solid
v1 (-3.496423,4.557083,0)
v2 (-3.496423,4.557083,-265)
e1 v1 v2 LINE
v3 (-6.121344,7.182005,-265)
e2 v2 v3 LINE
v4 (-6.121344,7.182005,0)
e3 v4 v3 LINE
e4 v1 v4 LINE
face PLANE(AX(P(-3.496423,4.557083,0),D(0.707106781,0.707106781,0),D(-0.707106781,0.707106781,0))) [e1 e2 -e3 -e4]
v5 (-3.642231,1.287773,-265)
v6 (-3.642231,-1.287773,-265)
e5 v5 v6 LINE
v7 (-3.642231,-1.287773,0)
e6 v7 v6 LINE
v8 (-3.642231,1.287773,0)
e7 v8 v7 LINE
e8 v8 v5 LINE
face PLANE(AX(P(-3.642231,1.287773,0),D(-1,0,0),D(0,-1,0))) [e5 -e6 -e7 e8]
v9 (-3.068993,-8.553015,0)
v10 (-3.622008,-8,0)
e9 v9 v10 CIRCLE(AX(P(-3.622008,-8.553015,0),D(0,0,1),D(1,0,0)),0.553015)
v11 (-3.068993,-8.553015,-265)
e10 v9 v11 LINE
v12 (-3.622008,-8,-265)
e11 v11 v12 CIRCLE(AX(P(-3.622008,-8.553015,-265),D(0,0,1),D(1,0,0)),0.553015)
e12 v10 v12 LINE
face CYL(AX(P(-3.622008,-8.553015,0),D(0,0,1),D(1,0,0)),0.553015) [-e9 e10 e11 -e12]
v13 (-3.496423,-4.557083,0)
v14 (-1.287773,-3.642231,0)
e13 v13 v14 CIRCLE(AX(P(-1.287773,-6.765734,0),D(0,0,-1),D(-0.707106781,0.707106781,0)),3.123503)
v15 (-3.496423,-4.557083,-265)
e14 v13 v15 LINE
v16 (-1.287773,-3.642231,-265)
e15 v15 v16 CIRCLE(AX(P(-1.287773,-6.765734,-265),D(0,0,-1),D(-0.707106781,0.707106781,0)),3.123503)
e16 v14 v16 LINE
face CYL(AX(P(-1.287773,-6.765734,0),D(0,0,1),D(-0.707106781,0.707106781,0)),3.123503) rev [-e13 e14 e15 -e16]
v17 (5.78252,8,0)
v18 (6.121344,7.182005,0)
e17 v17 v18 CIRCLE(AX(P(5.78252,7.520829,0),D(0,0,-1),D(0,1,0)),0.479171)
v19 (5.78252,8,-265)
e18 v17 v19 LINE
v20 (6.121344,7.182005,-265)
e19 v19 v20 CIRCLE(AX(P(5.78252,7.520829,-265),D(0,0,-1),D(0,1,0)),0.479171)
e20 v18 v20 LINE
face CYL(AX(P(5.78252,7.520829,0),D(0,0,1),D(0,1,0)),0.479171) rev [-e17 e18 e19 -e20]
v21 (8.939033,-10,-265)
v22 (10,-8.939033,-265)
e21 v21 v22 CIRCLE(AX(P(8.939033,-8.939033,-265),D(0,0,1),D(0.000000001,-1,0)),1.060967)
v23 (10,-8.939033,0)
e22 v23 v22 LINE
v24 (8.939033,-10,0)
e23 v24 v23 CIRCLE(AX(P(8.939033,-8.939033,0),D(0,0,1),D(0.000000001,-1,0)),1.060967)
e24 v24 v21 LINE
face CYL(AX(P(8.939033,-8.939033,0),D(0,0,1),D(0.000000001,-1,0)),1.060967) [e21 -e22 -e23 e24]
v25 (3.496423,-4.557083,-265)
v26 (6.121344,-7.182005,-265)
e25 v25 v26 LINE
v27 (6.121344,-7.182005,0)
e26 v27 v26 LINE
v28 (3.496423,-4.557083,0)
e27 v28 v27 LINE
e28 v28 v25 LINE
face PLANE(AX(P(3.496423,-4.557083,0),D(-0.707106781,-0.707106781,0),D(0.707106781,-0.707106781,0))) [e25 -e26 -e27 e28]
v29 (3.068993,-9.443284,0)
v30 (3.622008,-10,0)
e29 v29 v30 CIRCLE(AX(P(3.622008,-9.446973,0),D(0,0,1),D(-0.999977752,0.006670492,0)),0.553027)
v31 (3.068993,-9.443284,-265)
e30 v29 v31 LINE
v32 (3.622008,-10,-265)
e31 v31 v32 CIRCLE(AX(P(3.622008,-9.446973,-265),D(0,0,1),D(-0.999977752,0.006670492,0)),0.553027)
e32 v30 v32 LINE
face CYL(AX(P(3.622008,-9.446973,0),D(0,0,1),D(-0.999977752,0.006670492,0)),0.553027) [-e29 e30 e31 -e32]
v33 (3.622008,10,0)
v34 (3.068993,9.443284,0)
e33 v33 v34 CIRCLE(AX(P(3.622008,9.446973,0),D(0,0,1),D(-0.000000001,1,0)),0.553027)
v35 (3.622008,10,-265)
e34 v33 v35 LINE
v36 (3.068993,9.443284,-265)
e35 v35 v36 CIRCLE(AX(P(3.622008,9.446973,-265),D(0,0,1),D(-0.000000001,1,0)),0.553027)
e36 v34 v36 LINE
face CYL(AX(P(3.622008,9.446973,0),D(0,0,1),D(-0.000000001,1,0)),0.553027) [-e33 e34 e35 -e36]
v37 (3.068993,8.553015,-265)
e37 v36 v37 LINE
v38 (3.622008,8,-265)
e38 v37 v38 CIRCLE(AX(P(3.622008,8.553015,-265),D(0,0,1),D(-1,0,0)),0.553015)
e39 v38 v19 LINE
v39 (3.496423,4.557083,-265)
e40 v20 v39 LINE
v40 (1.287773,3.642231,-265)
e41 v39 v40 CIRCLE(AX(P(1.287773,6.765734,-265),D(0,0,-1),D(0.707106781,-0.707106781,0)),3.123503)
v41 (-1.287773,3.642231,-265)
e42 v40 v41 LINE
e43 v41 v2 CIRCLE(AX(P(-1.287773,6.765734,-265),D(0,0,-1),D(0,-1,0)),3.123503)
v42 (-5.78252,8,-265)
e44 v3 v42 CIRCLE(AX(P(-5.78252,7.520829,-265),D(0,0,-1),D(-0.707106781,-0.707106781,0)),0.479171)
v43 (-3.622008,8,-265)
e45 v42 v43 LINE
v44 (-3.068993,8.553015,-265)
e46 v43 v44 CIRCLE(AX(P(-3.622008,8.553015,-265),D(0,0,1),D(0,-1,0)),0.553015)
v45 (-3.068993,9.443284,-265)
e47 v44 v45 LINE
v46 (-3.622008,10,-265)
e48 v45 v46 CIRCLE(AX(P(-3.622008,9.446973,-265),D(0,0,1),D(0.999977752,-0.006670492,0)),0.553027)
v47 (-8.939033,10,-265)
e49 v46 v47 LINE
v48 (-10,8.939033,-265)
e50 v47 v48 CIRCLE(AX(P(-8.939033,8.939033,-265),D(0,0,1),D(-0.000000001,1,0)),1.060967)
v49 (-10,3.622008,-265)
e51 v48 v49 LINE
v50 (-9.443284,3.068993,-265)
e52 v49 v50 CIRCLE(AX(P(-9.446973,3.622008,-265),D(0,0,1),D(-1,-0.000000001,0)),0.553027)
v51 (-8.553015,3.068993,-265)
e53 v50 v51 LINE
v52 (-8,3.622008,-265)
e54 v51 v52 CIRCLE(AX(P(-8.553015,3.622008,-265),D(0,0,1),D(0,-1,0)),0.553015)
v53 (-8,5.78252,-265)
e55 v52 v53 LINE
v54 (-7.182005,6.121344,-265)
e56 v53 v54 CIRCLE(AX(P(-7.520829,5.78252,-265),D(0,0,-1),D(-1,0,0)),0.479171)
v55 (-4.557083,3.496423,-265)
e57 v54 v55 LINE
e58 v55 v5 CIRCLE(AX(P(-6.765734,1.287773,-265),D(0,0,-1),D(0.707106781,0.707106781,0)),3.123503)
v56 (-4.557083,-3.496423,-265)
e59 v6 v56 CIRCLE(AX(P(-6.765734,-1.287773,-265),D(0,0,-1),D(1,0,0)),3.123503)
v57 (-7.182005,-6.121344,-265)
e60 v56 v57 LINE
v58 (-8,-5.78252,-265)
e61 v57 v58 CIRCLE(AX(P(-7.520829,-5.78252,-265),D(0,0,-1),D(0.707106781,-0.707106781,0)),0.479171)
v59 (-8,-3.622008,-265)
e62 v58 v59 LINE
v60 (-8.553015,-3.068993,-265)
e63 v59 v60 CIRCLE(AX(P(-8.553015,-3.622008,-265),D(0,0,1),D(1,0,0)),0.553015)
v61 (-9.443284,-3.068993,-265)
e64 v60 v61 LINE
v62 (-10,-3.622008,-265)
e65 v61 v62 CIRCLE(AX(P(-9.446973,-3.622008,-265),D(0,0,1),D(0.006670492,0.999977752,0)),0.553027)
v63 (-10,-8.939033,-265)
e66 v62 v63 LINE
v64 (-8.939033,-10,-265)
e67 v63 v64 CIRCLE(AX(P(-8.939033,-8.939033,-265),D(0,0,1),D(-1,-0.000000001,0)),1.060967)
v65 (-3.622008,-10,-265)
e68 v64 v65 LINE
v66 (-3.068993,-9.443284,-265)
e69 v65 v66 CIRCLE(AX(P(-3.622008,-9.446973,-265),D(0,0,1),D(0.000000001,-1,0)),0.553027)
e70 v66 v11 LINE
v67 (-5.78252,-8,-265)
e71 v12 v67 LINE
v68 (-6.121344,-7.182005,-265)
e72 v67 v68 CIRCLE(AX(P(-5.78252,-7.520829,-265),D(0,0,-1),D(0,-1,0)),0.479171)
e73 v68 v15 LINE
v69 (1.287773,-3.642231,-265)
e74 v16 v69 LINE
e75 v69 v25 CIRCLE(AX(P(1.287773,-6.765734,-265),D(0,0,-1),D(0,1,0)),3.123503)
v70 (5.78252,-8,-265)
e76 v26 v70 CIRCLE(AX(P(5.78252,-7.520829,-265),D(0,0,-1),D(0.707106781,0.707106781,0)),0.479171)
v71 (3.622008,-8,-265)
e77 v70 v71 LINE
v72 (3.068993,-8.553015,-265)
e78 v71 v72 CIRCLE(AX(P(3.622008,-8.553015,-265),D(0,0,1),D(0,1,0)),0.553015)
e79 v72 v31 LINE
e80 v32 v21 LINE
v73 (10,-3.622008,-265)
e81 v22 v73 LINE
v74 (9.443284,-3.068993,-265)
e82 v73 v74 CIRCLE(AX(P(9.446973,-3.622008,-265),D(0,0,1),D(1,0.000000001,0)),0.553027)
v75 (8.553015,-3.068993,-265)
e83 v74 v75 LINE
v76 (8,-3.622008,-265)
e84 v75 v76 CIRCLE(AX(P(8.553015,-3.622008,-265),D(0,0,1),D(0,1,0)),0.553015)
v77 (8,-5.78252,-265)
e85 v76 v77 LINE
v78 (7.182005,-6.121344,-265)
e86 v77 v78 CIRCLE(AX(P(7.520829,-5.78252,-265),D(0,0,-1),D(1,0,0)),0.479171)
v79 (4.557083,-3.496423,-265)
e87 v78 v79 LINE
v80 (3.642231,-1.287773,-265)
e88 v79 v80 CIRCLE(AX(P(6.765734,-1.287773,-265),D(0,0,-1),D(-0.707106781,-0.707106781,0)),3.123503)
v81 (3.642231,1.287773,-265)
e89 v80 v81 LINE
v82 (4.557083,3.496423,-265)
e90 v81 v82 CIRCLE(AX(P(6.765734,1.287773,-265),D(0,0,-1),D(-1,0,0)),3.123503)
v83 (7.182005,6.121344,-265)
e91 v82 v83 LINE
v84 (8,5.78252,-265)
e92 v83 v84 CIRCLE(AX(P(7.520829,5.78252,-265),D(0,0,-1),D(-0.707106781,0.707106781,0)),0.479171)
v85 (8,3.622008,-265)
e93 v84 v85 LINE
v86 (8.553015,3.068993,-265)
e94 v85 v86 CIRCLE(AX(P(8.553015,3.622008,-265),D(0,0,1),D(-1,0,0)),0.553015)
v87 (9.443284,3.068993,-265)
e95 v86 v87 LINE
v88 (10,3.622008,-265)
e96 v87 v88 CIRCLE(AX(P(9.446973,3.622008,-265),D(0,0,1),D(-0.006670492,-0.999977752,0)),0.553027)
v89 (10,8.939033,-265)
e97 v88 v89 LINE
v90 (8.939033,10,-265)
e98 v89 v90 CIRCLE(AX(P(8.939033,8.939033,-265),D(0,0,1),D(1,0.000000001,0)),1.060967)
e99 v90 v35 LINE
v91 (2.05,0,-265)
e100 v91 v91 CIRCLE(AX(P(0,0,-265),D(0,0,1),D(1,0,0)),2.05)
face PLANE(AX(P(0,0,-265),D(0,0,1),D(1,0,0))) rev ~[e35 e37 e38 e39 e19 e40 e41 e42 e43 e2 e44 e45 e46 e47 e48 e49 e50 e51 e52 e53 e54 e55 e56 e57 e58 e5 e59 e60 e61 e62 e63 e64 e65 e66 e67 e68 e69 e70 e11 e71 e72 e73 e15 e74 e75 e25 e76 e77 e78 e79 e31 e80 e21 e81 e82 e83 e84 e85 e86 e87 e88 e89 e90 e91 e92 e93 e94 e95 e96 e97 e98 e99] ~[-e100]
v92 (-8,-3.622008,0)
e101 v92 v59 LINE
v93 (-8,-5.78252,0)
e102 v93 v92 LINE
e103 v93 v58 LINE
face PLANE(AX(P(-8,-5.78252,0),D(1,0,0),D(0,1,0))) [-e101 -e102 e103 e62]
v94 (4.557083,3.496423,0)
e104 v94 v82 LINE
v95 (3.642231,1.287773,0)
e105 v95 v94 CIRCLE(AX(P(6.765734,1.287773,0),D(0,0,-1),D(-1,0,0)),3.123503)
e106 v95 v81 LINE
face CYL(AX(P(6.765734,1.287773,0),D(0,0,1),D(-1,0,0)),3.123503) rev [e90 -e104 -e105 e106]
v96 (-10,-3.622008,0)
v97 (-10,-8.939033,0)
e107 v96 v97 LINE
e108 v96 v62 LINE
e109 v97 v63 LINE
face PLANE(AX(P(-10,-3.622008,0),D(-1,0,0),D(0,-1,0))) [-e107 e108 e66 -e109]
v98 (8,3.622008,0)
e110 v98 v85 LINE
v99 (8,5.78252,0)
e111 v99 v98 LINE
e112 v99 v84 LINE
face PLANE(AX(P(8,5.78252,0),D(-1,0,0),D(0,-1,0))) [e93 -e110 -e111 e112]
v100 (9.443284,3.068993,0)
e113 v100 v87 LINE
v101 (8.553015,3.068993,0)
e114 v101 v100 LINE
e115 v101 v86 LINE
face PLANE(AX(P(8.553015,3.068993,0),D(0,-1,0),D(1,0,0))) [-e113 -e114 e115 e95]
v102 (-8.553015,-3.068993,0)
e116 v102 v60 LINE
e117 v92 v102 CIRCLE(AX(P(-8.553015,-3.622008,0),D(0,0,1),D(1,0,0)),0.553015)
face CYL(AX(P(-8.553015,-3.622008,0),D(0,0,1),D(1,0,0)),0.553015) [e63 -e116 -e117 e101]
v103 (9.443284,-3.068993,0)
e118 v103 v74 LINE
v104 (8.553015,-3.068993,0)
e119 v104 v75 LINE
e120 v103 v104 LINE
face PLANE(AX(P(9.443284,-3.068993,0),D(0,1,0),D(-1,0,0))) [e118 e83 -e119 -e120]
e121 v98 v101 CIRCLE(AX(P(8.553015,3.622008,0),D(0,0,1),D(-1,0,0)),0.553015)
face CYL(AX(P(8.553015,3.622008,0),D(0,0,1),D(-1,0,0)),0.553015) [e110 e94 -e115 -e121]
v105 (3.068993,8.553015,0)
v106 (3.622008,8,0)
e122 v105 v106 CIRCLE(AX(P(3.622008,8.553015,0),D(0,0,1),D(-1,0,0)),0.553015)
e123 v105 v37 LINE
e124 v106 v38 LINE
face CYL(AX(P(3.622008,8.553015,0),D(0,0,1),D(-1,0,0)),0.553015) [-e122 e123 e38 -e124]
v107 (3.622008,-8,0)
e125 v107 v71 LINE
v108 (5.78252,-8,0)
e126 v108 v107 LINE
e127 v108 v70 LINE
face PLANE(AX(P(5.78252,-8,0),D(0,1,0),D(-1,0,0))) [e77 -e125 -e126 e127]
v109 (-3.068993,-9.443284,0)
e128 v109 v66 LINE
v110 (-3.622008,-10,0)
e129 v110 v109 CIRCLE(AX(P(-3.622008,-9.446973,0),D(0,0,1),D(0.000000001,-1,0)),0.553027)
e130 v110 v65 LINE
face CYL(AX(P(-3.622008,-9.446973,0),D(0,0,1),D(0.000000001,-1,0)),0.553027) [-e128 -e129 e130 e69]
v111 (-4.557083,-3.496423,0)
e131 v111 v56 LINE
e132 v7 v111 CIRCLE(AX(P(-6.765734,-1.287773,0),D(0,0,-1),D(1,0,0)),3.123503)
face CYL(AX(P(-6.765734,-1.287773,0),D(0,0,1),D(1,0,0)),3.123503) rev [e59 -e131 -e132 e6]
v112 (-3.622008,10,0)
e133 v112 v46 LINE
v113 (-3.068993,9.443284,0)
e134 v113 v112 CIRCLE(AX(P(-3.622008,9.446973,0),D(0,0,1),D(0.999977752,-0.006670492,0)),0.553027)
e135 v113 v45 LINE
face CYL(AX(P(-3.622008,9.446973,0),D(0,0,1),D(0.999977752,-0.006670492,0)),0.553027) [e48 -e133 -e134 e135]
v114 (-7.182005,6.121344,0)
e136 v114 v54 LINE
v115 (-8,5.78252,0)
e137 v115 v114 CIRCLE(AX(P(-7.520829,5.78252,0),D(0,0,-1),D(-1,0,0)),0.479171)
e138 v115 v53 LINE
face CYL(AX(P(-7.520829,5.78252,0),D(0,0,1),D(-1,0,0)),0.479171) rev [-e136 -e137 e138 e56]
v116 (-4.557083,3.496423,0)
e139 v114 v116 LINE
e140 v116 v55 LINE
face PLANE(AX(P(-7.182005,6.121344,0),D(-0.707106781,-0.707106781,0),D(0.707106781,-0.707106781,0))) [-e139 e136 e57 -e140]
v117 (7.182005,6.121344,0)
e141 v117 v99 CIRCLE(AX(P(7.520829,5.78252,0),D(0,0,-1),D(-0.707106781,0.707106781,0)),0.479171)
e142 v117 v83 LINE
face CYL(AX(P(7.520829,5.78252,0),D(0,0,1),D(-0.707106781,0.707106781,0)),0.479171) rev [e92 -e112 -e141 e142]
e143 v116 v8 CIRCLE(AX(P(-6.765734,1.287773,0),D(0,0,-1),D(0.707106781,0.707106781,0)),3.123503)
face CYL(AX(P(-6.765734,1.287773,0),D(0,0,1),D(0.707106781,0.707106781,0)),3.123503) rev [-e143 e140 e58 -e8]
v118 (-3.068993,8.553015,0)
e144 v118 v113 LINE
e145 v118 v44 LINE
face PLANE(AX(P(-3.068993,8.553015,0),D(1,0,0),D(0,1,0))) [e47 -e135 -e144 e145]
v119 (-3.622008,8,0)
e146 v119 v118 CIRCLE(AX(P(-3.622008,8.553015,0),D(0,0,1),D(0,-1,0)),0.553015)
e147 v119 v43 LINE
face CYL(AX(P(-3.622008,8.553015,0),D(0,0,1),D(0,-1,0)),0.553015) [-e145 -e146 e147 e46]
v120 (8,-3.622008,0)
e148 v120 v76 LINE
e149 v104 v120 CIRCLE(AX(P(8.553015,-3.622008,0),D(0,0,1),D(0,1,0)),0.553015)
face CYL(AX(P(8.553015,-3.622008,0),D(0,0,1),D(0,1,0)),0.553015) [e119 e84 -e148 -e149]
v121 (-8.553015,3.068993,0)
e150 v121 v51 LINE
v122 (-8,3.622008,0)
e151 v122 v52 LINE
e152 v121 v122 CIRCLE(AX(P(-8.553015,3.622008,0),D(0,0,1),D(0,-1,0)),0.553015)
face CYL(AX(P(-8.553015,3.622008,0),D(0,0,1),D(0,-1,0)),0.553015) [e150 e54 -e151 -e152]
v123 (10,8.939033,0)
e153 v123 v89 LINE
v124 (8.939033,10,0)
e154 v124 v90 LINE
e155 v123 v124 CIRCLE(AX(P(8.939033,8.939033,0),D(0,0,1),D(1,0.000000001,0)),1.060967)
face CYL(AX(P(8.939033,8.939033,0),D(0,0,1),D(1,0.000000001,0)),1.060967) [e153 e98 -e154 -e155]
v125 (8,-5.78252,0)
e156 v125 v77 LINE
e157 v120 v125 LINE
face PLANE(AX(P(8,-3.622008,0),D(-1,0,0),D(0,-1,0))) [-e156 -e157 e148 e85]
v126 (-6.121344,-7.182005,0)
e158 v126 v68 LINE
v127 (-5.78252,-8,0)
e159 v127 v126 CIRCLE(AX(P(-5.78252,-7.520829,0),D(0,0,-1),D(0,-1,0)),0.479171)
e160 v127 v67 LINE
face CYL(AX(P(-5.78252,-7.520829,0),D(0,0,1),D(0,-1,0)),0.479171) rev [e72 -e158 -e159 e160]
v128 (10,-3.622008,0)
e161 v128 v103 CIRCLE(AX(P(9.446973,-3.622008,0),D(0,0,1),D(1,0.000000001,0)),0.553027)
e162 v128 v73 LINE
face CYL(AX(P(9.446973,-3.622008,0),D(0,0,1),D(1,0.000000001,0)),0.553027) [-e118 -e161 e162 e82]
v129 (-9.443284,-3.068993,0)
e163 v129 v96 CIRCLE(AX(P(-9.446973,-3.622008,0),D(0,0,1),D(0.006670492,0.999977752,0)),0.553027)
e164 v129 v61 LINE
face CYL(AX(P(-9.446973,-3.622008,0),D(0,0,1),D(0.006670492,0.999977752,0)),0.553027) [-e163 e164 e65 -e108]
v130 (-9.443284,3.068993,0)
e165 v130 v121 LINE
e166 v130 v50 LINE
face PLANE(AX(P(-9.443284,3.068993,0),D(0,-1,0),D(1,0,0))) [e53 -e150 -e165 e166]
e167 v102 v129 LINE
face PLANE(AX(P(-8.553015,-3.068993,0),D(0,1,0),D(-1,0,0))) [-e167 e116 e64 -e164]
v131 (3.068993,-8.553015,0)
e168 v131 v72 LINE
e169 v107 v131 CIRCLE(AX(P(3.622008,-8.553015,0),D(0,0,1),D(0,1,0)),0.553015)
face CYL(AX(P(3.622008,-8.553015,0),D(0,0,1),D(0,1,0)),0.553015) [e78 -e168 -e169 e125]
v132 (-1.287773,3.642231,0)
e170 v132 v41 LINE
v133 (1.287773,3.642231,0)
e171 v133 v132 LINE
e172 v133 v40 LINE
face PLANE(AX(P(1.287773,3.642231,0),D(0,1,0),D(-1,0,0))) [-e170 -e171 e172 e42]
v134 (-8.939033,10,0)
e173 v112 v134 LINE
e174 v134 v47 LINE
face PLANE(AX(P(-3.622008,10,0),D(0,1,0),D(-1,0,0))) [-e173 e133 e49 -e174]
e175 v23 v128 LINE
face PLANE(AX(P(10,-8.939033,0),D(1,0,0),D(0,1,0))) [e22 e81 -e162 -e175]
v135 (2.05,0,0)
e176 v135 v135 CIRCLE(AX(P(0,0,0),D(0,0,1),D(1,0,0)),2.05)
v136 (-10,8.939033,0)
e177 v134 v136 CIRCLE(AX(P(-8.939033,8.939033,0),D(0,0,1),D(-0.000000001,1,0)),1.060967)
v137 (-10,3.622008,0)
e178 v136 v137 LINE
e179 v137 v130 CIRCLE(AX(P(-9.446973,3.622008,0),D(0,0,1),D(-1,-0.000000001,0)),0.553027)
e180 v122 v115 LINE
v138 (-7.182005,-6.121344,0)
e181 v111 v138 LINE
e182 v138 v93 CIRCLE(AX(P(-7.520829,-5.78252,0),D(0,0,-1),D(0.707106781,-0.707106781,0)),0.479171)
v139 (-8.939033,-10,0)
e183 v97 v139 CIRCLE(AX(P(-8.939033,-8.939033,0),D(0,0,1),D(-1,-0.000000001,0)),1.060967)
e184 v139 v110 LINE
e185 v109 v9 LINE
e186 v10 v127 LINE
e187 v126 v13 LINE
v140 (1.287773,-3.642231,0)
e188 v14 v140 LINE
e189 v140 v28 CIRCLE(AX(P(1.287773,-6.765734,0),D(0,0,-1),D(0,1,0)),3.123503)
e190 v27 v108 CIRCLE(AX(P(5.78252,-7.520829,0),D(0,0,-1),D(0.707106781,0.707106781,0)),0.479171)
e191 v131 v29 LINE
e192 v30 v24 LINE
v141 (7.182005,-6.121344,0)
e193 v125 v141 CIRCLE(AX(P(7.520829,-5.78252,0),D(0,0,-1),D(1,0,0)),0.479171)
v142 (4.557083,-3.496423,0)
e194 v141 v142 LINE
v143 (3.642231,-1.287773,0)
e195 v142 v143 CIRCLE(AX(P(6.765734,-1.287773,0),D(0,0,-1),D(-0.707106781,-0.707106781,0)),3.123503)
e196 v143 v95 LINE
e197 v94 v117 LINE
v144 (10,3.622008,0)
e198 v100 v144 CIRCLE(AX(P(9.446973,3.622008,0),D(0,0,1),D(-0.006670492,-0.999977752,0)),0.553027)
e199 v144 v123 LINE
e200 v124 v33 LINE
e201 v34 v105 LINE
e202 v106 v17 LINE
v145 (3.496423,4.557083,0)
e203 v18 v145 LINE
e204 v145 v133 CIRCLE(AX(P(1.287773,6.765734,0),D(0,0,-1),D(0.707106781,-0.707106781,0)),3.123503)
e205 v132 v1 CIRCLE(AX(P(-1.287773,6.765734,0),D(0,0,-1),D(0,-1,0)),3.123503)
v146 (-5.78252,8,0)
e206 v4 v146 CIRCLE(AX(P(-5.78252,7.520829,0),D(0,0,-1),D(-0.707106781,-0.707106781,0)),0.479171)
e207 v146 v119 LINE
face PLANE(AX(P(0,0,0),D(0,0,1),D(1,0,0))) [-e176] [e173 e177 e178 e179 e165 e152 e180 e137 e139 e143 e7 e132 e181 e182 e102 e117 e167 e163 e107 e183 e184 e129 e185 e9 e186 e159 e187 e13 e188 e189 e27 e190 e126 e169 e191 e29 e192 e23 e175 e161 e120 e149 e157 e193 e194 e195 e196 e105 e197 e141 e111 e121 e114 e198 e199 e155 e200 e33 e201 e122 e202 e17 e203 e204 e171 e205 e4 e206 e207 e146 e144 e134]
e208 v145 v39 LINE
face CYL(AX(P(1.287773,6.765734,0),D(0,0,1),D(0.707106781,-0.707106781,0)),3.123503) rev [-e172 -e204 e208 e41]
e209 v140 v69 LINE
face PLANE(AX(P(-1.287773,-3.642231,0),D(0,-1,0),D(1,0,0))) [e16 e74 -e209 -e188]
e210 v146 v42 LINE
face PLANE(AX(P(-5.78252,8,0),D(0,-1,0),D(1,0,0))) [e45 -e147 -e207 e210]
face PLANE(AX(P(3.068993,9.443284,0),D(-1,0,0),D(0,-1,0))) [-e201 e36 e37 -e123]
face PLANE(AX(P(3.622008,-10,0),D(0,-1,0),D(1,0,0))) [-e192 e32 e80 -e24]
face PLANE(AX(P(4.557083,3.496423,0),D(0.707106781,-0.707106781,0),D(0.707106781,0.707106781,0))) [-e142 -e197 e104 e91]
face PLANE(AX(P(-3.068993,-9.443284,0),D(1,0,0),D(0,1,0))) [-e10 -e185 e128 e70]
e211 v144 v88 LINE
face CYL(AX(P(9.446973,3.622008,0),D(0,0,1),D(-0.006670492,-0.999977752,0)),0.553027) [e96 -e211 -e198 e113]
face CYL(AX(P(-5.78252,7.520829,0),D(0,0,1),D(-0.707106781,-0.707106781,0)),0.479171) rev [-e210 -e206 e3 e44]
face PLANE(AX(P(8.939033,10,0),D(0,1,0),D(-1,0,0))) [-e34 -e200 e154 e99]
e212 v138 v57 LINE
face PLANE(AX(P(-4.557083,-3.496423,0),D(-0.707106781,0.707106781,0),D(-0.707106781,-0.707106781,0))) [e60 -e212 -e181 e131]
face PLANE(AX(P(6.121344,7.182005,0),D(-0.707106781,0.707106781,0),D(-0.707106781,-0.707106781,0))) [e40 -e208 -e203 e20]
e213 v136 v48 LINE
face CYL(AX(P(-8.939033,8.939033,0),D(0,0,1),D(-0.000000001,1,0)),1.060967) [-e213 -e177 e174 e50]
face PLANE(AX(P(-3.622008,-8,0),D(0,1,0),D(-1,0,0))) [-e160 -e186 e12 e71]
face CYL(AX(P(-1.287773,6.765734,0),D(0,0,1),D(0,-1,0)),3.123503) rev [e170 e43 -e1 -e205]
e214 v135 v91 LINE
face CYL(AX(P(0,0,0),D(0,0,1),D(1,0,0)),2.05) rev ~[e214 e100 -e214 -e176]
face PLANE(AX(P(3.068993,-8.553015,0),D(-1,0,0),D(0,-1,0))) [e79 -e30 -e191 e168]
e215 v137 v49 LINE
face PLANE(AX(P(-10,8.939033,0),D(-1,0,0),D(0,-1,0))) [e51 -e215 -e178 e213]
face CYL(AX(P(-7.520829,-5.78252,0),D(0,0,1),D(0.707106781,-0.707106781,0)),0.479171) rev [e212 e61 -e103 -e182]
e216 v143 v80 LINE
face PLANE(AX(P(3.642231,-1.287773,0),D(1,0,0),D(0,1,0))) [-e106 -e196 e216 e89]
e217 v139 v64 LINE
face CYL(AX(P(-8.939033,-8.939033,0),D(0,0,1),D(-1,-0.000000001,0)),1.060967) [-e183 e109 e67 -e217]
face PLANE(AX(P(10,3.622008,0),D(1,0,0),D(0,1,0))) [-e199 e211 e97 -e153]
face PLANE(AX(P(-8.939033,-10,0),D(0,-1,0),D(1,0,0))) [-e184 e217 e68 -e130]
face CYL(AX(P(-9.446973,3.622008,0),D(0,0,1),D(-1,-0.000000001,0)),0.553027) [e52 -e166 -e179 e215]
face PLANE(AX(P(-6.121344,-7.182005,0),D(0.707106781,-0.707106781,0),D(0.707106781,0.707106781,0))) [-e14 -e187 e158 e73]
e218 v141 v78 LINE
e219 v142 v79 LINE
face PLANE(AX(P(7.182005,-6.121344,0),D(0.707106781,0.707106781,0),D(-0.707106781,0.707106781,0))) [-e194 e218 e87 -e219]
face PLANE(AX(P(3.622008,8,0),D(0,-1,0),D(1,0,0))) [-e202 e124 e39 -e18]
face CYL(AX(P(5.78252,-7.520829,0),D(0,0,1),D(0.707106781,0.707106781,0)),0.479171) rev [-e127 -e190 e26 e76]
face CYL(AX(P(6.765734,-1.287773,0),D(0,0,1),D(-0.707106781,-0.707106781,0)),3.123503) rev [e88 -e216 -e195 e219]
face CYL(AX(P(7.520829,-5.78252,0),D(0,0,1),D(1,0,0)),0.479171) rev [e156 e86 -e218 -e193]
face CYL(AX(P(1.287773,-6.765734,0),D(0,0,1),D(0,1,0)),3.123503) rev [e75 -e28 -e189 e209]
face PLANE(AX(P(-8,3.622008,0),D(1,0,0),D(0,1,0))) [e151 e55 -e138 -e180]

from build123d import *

# Parameters (mm, degrees)
SKETCH1_R           = 2.05
BOSS_EXTRUDE1_DEPTH = 265


with BuildPart() as part:
    # Sketch1 → Boss-Extrude1 (new body)
    with BuildSketch(Plane.XY):
        with BuildLine():
            Line((-3.642230561, 1.287773026), (-3.642230561, -1.287773026))
            ThreePointArc((-3.642230561, -1.287773026), (-3.87999308, -2.483085929), (-4.55708345, -3.496423279))
            Line((-4.55708345, -3.496423279), (-7.182004606, -6.121344434))
            ThreePointArc((-7.182004606, -6.121344434), (-7.704200045, -6.225215565), (-8, -5.782519648))
            Line((-8, -5.782519648), (-8, -3.622007668))
            ThreePointArc((-8, -3.622007668), (-8.161974206, -3.230967343), (-8.553014531, -3.068993137))
            Line((-8.553014531, -3.068993137), (-9.443284204, -3.068993137))
            ThreePointArc((-9.443284204, -3.068993137), (-9.836715763, -3.229656566), (-10, -3.622007668))
            Line((-10, -3.622007668), (-10, -8.939033256))
            ThreePointArc((-10, -8.939033256), (-9.689250035, -9.689250035), (-8.939033256, -10))
            Line((-8.939033256, -10), (-3.622007668, -10))
            ThreePointArc((-3.622007668, -10), (-3.229656566, -9.836715763), (-3.068993137, -9.443284204))
            Line((-3.068993137, -9.443284204), (-3.068993137, -8.553014531))
            ThreePointArc((-3.068993137, -8.553014531), (-3.230967343, -8.161974206), (-3.622007668, -8))
            Line((-3.622007668, -8), (-5.782519648, -8))
            ThreePointArc((-5.782519648, -8), (-6.225215565, -7.704200045), (-6.121344434, -7.182004606))
            Line((-6.121344434, -7.182004606), (-3.496423279, -4.55708345))
            ThreePointArc((-3.496423279, -4.55708345), (-2.483085929, -3.87999308), (-1.287773026, -3.642230561))
            Line((-1.287773026, -3.642230561), (1.287773026, -3.642230561))
            ThreePointArc((1.287773026, -3.642230561), (2.483085929, -3.87999308), (3.496423279, -4.55708345))
            Line((3.496423279, -4.55708345), (6.121344434, -7.182004606))
            ThreePointArc((6.121344434, -7.182004606), (6.225215565, -7.704200045), (5.782519648, -8))
            Line((5.782519648, -8), (3.622007668, -8))
            ThreePointArc((3.622007668, -8), (3.230967343, -8.161974206), (3.068993137, -8.553014531))
            Line((3.068993137, -8.553014531), (3.068993137, -9.443284204))
            ThreePointArc((3.068993137, -9.443284204), (3.229656566, -9.836715763), (3.622007668, -10))
            Line((3.622007668, -10), (8.939033256, -10))
            ThreePointArc((8.939033256, -10), (9.689250035, -9.689250035), (10, -8.939033256))
            Line((10, -8.939033256), (10, -3.622007668))
            ThreePointArc((10, -3.622007668), (9.836715763, -3.229656566), (9.443284204, -3.068993137))
            Line((9.443284204, -3.068993137), (8.553014531, -3.068993137))
            ThreePointArc((8.553014531, -3.068993137), (8.161974206, -3.230967343), (8, -3.622007668))
            Line((8, -3.622007668), (8, -5.782519648))
            ThreePointArc((8, -5.782519648), (7.704200045, -6.225215565), (7.182004606, -6.121344434))
            Line((7.182004606, -6.121344434), (4.55708345, -3.496423279))
            ThreePointArc((4.55708345, -3.496423279), (3.87999308, -2.483085929), (3.642230561, -1.287773026))
            Line((3.642230561, -1.287773026), (3.642230561, 1.287773026))
            ThreePointArc((3.642230561, 1.287773026), (3.87999308, 2.483085929), (4.55708345, 3.496423279))
            Line((4.55708345, 3.496423279), (7.182004606, 6.121344434))
            ThreePointArc((7.182004606, 6.121344434), (7.704200045, 6.225215565), (8, 5.782519648))
            Line((8, 5.782519648), (8, 3.622007668))
            ThreePointArc((8, 3.622007668), (8.161974206, 3.230967343), (8.553014531, 3.068993137))
            Line((8.553014531, 3.068993137), (9.443284204, 3.068993137))
            ThreePointArc((9.443284204, 3.068993137), (9.836715763, 3.229656566), (10, 3.622007668))
            Line((10, 3.622007668), (10, 8.939033256))
            ThreePointArc((10, 8.939033256), (9.689250035, 9.689250035), (8.939033256, 10))
            Line((8.939033256, 10), (3.622007668, 10))
            ThreePointArc((3.622007668, 10), (3.229656566, 9.836715763), (3.068993137, 9.443284204))
            Line((3.068993137, 9.443284204), (3.068993137, 8.553014531))
            ThreePointArc((3.068993137, 8.553014531), (3.230967343, 8.161974206), (3.622007668, 8))
            Line((3.622007668, 8), (5.782519648, 8))
            ThreePointArc((5.782519648, 8), (6.225215565, 7.704200045), (6.121344434, 7.182004606))
            Line((6.121344434, 7.182004606), (3.496423279, 4.55708345))
            ThreePointArc((3.496423279, 4.55708345), (2.483085929, 3.87999308), (1.287773026, 3.642230561))
            Line((1.287773026, 3.642230561), (-1.287773026, 3.642230561))
            ThreePointArc((-1.287773026, 3.642230561), (-2.483085929, 3.87999308), (-3.496423279, 4.55708345))
            Line((-3.496423279, 4.55708345), (-6.121344434, 7.182004606))
            ThreePointArc((-6.121344434, 7.182004606), (-6.225215565, 7.704200045), (-5.782519648, 8))
            Line((-5.782519648, 8), (-3.622007668, 8))
            ThreePointArc((-3.622007668, 8), (-3.230967343, 8.161974206), (-3.068993137, 8.553014531))
            Line((-3.068993137, 8.553014531), (-3.068993137, 9.443284204))
            ThreePointArc((-3.068993137, 9.443284204), (-3.229656566, 9.836715763), (-3.622007668, 10))
            Line((-3.622007668, 10), (-8.939033256, 10))
            ThreePointArc((-8.939033256, 10), (-9.689250035, 9.689250035), (-10, 8.939033256))
            Line((-10, 8.939033256), (-10, 3.622007668))
            ThreePointArc((-10, 3.622007668), (-9.836715763, 3.229656566), (-9.443284204, 3.068993137))
            Line((-9.443284204, 3.068993137), (-8.553014531, 3.068993137))
            ThreePointArc((-8.553014531, 3.068993137), (-8.161974206, 3.230967343), (-8, 3.622007668))
            Line((-8, 3.622007668), (-8, 5.782519648))
            ThreePointArc((-8, 5.782519648), (-7.704200045, 6.225215565), (-7.182004606, 6.121344434))
            Line((-7.182004606, 6.121344434), (-4.55708345, 3.496423279))
            ThreePointArc((-4.55708345, 3.496423279), (-3.87999308, 2.483085929), (-3.642230561, 1.287773026))
        make_face()
        Circle(SKETCH1_R, mode=Mode.SUBTRACT)
    extrude(amount=-BOSS_EXTRUDE1_DEPTH)


solid = part.part
